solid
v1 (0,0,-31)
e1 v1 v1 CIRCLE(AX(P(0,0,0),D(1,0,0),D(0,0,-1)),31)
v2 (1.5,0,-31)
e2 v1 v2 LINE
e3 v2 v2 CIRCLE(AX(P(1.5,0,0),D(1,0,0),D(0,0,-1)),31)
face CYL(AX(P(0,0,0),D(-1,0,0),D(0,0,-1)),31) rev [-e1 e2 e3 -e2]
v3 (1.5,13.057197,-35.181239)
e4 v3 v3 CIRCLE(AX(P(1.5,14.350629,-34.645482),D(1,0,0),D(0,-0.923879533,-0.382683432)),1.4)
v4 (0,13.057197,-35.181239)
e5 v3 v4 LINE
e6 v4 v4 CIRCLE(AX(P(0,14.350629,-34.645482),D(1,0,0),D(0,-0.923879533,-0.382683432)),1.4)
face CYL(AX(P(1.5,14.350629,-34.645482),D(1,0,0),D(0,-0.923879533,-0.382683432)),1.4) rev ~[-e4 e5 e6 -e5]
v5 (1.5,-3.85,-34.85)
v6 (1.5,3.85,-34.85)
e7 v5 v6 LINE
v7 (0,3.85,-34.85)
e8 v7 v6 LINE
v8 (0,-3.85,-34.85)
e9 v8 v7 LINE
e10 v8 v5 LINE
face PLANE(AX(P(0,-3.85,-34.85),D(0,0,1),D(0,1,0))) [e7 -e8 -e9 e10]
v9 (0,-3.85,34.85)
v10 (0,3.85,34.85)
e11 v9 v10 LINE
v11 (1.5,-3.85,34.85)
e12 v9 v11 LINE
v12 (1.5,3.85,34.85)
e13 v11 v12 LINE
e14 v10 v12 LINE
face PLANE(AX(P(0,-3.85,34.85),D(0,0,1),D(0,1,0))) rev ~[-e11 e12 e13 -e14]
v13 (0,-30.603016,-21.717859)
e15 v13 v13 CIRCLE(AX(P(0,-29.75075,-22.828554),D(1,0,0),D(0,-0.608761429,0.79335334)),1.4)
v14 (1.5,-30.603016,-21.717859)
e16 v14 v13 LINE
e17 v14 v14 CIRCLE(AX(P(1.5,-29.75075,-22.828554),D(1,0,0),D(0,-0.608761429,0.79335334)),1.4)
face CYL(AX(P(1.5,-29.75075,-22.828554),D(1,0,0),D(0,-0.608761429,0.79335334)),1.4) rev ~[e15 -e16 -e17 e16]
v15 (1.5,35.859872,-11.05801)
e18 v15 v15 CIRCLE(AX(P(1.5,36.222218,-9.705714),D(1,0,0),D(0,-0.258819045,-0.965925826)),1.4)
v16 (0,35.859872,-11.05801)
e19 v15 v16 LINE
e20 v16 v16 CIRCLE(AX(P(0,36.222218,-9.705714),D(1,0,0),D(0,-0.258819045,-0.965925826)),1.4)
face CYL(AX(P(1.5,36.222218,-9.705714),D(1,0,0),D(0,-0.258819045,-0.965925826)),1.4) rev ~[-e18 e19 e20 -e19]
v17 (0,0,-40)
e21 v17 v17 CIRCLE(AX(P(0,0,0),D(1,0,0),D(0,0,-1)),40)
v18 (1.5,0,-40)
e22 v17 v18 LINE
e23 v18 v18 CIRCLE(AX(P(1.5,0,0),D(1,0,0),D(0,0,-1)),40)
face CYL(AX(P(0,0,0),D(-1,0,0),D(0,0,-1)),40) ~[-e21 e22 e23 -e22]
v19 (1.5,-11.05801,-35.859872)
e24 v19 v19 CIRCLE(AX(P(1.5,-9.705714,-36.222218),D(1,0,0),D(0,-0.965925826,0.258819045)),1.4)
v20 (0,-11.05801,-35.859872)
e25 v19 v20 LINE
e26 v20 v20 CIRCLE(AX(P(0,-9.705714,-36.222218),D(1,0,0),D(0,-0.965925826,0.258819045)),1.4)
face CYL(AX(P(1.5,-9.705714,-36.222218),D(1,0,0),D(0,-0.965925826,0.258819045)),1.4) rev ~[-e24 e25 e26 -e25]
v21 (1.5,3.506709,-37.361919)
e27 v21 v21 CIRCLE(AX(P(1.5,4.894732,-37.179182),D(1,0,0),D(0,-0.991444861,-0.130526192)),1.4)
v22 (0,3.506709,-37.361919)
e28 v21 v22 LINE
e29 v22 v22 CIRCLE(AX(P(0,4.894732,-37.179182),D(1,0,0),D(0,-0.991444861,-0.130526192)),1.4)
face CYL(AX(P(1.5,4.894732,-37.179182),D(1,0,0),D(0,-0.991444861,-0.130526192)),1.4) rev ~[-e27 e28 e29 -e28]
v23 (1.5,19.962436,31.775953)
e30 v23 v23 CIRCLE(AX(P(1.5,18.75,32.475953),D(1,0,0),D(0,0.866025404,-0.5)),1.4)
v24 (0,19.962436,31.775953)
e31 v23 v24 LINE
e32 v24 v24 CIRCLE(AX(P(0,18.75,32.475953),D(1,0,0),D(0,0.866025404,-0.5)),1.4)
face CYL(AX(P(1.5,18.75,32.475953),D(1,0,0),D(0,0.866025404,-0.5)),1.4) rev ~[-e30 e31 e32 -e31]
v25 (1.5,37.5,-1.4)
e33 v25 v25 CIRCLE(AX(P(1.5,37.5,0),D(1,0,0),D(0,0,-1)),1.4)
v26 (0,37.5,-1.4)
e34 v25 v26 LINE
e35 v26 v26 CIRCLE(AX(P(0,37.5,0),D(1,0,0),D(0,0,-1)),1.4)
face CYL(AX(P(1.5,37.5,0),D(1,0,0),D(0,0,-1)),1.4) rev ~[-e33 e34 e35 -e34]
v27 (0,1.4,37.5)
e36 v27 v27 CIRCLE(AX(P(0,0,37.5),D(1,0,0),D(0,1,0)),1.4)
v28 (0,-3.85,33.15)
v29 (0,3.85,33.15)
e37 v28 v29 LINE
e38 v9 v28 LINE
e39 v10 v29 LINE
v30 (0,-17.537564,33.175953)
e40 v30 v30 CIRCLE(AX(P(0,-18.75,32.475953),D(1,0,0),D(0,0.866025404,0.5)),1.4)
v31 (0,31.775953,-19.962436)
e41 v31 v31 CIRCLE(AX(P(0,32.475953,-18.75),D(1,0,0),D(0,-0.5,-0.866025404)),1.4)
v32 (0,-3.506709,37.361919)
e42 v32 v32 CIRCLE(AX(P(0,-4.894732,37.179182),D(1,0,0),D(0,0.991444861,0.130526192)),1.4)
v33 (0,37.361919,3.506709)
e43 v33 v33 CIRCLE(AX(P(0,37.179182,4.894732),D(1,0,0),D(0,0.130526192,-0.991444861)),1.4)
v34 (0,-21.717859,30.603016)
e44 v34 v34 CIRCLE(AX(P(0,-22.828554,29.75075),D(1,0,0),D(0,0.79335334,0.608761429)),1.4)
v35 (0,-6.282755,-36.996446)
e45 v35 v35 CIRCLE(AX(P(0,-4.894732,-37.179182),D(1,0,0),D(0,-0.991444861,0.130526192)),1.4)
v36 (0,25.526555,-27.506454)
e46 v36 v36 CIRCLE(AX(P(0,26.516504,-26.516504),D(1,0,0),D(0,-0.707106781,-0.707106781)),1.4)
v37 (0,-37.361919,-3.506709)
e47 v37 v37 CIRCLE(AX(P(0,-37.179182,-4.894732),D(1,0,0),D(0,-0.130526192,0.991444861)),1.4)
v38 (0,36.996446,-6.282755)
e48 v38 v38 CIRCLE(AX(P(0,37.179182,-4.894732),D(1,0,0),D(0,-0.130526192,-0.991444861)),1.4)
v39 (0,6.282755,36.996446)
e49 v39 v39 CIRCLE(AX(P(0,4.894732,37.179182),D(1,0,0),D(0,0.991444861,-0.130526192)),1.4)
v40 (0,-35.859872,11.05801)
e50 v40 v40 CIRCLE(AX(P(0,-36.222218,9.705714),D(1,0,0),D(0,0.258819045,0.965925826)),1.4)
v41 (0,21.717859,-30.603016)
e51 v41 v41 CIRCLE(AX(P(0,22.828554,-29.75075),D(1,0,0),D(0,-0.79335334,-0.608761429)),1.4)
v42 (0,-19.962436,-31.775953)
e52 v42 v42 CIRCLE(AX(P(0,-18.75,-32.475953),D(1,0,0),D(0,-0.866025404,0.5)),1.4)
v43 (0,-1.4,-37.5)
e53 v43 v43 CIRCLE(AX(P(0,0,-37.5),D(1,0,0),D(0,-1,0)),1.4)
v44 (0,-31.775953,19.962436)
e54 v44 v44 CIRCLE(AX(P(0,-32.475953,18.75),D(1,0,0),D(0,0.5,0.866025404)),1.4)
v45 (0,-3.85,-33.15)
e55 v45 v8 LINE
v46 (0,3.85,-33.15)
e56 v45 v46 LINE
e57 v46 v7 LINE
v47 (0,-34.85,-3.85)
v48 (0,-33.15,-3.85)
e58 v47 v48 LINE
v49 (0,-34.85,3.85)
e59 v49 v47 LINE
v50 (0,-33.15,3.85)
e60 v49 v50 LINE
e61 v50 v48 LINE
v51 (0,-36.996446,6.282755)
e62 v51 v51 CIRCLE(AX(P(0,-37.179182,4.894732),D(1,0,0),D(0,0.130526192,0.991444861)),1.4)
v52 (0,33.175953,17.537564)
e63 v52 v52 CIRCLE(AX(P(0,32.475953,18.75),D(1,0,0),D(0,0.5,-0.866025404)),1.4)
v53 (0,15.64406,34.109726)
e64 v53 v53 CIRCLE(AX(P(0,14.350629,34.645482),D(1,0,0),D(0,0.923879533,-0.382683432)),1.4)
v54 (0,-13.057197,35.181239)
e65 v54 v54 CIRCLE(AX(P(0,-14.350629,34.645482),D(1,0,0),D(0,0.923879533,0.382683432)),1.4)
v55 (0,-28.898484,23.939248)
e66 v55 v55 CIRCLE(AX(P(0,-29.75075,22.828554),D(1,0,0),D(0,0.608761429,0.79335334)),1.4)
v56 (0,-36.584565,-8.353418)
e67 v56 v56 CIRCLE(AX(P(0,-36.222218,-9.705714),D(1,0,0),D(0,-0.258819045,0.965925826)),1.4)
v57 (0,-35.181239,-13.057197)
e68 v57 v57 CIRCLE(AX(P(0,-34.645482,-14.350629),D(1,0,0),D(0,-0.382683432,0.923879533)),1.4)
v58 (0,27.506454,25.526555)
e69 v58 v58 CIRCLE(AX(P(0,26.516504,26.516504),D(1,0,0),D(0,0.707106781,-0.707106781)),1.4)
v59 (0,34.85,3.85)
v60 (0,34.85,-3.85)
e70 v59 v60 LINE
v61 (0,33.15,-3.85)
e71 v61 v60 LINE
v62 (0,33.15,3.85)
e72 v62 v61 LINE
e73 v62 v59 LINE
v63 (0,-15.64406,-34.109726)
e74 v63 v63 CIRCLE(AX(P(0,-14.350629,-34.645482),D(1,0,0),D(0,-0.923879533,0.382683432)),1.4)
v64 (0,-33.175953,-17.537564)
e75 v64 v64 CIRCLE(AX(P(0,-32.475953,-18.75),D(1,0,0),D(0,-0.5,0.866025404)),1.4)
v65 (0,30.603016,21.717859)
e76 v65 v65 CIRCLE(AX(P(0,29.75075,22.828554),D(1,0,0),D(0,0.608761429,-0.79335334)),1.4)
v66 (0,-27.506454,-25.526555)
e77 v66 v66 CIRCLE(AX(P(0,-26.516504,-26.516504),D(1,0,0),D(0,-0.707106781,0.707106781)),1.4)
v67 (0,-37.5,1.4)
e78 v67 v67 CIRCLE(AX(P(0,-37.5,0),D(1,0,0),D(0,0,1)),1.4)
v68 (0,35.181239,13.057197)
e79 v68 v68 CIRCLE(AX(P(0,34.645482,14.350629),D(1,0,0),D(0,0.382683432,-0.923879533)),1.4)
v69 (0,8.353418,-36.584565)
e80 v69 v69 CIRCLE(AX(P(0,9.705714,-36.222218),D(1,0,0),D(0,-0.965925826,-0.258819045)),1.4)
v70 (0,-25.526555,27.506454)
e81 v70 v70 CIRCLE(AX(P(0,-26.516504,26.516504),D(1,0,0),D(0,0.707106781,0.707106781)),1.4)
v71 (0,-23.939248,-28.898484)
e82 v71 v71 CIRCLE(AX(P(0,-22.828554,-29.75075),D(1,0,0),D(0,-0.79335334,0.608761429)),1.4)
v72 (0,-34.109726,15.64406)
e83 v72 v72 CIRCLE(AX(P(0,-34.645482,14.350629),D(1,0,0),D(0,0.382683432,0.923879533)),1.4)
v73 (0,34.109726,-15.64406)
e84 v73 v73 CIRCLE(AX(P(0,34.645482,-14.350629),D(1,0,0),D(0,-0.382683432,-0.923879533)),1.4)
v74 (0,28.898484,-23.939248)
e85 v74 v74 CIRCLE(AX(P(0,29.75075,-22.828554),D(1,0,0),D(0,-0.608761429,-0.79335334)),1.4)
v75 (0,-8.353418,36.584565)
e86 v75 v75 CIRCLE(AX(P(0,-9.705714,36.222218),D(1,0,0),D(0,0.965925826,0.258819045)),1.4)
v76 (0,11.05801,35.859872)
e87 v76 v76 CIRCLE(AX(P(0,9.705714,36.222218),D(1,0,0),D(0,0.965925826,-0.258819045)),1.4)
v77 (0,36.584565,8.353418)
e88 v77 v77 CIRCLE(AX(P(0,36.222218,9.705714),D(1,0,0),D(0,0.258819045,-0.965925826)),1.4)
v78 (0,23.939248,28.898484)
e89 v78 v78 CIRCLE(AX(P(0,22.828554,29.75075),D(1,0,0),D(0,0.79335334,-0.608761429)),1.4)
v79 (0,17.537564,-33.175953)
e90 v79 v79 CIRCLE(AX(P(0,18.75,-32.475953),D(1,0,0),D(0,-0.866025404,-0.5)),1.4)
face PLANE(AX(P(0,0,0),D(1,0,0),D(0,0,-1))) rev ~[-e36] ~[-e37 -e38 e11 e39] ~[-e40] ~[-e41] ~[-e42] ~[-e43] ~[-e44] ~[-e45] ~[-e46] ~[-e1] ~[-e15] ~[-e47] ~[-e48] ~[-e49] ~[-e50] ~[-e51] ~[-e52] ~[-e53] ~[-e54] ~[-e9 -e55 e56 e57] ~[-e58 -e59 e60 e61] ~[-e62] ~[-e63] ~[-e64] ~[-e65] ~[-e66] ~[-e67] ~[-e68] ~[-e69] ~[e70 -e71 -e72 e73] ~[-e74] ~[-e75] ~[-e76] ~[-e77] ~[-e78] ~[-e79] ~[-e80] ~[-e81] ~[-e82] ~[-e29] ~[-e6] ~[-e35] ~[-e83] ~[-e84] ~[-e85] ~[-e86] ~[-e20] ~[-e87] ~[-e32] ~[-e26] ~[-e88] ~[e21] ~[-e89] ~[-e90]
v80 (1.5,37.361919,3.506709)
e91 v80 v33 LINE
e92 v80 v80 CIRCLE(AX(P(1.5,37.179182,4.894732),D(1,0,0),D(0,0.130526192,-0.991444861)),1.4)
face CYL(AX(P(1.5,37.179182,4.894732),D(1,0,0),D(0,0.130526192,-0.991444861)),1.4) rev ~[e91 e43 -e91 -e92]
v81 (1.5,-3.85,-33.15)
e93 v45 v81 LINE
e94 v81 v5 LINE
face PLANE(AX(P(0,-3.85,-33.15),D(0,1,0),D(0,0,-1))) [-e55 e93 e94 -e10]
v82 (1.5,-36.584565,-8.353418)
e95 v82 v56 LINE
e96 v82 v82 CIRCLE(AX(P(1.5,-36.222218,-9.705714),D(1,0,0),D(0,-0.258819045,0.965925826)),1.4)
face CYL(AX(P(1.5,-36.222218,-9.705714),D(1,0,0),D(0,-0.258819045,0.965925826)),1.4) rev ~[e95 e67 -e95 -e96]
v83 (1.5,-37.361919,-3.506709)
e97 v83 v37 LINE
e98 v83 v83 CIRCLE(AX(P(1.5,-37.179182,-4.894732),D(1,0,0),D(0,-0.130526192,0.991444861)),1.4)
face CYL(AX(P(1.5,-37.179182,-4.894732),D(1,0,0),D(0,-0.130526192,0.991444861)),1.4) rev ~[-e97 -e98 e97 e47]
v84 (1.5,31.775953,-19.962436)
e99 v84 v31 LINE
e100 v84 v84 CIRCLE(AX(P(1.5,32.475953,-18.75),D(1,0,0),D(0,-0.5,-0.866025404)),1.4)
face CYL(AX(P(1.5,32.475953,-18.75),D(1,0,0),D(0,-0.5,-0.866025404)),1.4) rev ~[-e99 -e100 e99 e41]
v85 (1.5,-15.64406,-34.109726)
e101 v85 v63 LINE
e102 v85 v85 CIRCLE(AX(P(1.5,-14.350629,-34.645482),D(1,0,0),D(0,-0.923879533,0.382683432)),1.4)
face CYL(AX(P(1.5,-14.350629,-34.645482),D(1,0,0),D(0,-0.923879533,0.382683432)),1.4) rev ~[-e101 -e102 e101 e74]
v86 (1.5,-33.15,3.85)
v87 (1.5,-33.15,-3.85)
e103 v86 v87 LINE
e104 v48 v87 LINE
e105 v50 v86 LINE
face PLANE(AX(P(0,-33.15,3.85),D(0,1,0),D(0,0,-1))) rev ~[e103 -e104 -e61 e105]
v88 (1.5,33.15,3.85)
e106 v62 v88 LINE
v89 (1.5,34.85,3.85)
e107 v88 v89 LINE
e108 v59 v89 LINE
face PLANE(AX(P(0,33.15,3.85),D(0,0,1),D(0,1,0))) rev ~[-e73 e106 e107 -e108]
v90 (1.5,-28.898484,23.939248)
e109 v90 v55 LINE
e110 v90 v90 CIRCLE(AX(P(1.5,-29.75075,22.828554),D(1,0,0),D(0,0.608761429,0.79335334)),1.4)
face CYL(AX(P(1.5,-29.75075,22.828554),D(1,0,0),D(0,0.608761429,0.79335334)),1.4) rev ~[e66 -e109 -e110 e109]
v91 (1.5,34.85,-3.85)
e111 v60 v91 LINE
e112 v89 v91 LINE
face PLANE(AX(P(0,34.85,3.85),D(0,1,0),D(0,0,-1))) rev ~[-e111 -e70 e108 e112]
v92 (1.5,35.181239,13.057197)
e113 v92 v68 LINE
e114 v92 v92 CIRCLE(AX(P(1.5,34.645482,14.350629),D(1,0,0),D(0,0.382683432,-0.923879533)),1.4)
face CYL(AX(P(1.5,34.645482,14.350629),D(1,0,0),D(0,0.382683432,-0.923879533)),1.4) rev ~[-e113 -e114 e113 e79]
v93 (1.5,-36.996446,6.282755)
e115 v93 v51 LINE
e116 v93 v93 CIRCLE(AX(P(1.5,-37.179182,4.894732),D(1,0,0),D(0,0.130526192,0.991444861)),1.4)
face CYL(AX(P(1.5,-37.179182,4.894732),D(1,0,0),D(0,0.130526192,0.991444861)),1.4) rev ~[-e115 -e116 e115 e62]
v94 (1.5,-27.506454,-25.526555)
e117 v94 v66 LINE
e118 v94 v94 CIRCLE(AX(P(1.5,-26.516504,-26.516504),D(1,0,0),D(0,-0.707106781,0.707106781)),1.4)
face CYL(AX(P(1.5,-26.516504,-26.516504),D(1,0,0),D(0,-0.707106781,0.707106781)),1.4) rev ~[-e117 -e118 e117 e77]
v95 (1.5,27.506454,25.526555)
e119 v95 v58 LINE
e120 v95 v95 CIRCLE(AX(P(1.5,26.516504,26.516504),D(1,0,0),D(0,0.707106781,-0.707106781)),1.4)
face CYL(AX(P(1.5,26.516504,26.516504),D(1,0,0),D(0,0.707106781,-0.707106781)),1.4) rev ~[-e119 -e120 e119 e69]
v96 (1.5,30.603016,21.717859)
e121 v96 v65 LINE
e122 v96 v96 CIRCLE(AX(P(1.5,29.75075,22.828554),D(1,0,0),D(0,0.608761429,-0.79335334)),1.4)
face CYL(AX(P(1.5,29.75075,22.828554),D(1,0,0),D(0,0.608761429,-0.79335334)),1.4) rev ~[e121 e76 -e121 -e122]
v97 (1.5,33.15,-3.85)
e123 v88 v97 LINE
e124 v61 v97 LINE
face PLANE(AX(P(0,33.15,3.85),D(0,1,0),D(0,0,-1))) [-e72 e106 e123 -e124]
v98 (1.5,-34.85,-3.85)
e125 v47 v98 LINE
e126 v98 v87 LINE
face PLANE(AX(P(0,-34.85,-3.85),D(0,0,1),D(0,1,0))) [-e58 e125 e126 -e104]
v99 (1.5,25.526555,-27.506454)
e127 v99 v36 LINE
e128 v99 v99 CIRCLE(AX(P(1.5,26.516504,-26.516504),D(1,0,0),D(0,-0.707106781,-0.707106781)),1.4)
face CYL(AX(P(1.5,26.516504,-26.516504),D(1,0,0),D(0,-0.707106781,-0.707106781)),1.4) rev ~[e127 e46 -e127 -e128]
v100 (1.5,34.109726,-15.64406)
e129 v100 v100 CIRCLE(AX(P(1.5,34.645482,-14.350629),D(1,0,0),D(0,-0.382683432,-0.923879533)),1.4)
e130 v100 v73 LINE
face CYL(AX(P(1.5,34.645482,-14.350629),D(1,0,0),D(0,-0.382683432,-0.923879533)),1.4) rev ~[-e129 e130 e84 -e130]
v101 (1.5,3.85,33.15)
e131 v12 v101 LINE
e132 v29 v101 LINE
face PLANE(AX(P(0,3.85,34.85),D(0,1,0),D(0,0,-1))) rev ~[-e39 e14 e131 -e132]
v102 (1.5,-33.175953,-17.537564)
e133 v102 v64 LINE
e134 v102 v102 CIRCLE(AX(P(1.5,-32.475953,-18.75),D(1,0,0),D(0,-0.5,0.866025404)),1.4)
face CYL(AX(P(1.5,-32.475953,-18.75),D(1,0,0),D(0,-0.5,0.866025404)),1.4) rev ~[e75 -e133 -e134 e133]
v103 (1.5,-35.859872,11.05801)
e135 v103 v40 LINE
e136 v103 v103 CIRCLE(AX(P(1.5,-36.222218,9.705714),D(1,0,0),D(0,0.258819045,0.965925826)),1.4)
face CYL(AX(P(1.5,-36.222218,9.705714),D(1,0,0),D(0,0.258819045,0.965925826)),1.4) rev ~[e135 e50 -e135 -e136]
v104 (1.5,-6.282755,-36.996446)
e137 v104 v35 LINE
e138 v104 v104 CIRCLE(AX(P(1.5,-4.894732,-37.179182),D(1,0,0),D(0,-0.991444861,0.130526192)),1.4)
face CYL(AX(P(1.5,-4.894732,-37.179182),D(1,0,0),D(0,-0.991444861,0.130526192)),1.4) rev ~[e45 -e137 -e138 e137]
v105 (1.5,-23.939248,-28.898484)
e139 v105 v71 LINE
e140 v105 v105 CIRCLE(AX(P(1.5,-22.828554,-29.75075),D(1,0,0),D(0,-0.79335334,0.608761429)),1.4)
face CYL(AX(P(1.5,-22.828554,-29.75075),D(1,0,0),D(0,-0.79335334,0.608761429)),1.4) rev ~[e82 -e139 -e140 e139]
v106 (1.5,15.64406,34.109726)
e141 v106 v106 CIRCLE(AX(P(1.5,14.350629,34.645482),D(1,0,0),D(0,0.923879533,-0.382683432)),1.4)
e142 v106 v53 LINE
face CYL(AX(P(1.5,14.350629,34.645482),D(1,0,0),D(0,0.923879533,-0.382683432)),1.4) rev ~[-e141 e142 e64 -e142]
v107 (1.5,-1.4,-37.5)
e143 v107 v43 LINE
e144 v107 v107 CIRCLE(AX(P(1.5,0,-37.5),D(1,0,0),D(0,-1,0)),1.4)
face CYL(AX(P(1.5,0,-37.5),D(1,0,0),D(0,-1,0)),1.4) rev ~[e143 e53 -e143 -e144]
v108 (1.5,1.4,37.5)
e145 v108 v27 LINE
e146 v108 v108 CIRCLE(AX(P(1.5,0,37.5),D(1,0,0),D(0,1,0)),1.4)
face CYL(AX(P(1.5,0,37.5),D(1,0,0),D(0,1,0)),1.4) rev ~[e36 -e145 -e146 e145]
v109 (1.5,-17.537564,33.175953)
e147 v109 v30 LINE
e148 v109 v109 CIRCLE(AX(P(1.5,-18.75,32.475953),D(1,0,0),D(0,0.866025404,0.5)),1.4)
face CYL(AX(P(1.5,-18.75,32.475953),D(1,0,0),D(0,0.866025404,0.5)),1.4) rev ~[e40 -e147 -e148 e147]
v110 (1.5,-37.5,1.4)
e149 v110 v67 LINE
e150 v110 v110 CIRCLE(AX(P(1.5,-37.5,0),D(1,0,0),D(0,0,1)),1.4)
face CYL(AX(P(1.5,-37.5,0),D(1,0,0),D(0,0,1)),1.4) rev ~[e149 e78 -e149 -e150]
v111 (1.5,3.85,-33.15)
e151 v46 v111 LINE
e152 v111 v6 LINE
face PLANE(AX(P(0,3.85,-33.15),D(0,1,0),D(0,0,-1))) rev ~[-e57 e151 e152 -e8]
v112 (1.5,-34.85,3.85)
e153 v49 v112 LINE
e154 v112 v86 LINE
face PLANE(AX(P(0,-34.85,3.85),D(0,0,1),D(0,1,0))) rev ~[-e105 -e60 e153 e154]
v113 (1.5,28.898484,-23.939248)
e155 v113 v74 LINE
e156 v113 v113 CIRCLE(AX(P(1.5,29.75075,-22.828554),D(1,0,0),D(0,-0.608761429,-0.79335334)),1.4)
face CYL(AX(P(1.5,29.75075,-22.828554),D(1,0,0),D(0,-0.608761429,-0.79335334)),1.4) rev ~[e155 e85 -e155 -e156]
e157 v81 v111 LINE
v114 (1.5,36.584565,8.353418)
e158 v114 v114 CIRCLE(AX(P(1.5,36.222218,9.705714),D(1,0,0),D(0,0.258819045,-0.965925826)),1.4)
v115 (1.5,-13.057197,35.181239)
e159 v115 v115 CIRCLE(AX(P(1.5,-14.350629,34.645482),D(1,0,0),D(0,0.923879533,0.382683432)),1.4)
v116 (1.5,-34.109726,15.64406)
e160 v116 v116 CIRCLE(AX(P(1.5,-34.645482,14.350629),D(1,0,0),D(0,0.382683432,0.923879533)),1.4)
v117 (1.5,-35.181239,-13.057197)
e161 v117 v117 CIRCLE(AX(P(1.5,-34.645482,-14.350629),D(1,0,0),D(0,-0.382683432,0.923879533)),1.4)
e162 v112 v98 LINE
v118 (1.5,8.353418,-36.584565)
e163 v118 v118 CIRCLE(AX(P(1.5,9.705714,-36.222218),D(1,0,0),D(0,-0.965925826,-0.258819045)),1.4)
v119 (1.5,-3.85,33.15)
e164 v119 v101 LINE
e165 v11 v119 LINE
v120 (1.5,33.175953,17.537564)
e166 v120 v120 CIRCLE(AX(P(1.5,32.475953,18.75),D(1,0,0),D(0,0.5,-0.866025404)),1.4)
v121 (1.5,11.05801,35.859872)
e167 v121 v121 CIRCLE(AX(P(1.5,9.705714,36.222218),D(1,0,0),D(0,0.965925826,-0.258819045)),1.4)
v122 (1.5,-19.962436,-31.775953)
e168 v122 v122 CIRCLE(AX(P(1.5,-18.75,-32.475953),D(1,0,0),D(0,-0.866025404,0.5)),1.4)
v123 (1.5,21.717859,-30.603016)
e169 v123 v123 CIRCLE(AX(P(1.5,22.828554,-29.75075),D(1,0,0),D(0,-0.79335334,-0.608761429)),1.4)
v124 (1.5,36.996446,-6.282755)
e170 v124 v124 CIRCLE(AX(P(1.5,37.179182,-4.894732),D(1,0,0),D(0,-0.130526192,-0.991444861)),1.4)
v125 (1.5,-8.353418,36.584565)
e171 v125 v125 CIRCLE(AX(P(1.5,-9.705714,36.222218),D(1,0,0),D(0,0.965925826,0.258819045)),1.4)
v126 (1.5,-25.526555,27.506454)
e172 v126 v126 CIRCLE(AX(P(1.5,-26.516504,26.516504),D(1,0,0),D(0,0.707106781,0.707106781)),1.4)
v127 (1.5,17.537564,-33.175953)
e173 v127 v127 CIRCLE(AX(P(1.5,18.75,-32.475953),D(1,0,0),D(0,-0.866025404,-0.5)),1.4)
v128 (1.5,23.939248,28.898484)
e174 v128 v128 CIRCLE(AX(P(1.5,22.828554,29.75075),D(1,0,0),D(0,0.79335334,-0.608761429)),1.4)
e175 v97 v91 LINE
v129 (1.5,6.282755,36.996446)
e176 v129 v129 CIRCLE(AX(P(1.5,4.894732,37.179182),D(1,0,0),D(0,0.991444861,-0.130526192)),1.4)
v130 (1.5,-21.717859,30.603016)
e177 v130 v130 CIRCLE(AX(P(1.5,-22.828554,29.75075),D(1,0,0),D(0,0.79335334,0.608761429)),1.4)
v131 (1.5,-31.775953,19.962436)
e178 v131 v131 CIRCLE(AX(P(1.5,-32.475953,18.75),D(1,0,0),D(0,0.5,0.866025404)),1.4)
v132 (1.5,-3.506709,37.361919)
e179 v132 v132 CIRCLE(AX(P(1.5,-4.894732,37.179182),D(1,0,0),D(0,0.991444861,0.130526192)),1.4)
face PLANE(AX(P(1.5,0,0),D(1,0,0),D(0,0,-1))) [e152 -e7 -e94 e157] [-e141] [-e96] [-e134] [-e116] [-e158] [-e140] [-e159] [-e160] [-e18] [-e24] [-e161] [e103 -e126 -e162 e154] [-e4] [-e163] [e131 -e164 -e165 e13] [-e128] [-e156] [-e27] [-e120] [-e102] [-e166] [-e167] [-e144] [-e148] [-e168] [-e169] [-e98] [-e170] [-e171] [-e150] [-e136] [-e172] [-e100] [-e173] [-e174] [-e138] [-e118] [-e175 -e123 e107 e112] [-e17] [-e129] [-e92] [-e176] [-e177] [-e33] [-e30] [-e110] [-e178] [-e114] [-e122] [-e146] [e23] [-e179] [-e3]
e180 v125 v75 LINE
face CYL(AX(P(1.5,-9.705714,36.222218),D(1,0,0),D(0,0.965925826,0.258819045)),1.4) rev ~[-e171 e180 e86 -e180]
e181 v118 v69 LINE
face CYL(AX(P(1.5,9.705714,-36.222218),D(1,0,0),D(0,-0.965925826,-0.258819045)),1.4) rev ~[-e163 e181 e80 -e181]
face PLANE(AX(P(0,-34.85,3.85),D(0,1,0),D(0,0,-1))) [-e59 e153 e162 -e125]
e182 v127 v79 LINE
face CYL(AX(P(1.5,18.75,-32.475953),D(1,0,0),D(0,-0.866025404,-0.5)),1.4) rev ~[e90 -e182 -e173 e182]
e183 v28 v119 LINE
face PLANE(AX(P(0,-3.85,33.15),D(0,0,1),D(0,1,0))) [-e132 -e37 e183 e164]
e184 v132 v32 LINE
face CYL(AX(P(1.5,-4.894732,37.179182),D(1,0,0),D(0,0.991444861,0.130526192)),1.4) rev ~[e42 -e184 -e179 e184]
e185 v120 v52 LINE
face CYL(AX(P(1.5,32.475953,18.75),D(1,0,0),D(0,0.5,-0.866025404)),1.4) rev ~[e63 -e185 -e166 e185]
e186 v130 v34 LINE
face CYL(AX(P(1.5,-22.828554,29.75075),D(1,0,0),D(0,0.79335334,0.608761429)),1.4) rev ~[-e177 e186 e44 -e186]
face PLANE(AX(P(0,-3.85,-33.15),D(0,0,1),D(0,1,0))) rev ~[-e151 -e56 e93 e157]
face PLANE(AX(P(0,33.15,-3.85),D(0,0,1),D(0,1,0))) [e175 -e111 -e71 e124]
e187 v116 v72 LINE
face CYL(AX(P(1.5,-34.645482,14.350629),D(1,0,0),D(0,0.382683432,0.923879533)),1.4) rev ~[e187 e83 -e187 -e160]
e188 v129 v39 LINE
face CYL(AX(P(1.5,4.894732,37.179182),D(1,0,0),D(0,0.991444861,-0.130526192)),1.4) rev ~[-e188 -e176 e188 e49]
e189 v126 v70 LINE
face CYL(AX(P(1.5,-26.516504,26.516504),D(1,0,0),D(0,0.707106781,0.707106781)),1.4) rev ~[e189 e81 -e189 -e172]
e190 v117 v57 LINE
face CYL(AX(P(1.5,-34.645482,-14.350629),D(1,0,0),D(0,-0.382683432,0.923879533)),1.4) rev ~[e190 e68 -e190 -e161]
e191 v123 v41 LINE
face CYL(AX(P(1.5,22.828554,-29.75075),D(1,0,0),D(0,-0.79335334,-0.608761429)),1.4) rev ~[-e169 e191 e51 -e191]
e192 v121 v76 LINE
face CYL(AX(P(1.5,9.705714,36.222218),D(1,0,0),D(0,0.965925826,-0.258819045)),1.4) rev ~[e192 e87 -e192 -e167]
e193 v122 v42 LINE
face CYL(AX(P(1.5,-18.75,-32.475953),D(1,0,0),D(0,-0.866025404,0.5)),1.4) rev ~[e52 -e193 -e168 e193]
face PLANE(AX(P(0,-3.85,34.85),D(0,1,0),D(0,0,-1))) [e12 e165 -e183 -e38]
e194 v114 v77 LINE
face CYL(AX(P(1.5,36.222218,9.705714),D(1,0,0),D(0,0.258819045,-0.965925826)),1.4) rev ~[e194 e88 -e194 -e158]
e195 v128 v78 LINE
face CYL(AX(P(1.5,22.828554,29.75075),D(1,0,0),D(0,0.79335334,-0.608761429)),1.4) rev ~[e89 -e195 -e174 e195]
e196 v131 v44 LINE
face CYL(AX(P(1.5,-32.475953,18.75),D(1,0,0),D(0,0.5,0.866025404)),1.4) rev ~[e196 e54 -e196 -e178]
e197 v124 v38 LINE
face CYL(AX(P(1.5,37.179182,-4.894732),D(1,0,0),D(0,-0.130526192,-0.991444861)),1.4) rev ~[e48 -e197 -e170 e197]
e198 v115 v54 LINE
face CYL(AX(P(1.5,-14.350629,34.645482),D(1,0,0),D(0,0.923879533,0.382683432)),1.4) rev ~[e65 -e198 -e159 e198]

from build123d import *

# Parameters (mm, degrees)
SKETCH1_R           = 40
SKETCH1_R_2         = 31
SKETCH1_W           = 7.7
SKETCH1_H           = 1.7
SKETCH1_W_2         = 1.7
SKETCH1_H_2         = 7.7
BOSS_EXTRUDE4_DEPTH = 1.5
SKETCH2_R           = 1.4
CUT_EXTRUDE2_DEPTH  = 1.5
CIRPATTERN3_COUNT   = 48


with BuildPart() as part:
    # Sketch1 → Boss-Extrude4 (new body)
    with BuildSketch(Plane(origin=(0, 0, 0), x_dir=(0, 0, -1), z_dir=(1, 0, 0))):
        Circle(SKETCH1_R)
        Circle(SKETCH1_R_2, mode=Mode.SUBTRACT)
        with Locations((0, 34)):
            Rectangle(SKETCH1_W, SKETCH1_H, mode=Mode.SUBTRACT)
        with Locations((34, 0)):
            Rectangle(SKETCH1_W_2, SKETCH1_H_2, mode=Mode.SUBTRACT)
        with Locations((0, -34)):
            Rectangle(SKETCH1_W, SKETCH1_H, mode=Mode.SUBTRACT)
        with Locations((-34, 0)):
            Rectangle(SKETCH1_W_2, SKETCH1_H_2, mode=Mode.SUBTRACT)
    extrude(amount=BOSS_EXTRUDE4_DEPTH)

    # Sketch2 → Cut-Extrude2 (cut)
    with BuildSketch(Plane(origin=(1.5, 0, 0), x_dir=(0, 0, -1), z_dir=(1, 0, 0))):
        with Locations((0, 37.5)):
            Circle(SKETCH2_R)
    cut_extrude2 = extrude(amount=-CUT_EXTRUDE2_DEPTH, mode=Mode.SUBTRACT)

    # CirPattern3: Cut-Extrude2 ×48 about axis
    cirpattern3_axis = Axis((0, 0, 0), (1, 0, 0))
    for i in range(1, CIRPATTERN3_COUNT):
        add(cut_extrude2.rotate(cirpattern3_axis, i * 360 / CIRPATTERN3_COUNT), mode=Mode.SUBTRACT)


solid = part.part
